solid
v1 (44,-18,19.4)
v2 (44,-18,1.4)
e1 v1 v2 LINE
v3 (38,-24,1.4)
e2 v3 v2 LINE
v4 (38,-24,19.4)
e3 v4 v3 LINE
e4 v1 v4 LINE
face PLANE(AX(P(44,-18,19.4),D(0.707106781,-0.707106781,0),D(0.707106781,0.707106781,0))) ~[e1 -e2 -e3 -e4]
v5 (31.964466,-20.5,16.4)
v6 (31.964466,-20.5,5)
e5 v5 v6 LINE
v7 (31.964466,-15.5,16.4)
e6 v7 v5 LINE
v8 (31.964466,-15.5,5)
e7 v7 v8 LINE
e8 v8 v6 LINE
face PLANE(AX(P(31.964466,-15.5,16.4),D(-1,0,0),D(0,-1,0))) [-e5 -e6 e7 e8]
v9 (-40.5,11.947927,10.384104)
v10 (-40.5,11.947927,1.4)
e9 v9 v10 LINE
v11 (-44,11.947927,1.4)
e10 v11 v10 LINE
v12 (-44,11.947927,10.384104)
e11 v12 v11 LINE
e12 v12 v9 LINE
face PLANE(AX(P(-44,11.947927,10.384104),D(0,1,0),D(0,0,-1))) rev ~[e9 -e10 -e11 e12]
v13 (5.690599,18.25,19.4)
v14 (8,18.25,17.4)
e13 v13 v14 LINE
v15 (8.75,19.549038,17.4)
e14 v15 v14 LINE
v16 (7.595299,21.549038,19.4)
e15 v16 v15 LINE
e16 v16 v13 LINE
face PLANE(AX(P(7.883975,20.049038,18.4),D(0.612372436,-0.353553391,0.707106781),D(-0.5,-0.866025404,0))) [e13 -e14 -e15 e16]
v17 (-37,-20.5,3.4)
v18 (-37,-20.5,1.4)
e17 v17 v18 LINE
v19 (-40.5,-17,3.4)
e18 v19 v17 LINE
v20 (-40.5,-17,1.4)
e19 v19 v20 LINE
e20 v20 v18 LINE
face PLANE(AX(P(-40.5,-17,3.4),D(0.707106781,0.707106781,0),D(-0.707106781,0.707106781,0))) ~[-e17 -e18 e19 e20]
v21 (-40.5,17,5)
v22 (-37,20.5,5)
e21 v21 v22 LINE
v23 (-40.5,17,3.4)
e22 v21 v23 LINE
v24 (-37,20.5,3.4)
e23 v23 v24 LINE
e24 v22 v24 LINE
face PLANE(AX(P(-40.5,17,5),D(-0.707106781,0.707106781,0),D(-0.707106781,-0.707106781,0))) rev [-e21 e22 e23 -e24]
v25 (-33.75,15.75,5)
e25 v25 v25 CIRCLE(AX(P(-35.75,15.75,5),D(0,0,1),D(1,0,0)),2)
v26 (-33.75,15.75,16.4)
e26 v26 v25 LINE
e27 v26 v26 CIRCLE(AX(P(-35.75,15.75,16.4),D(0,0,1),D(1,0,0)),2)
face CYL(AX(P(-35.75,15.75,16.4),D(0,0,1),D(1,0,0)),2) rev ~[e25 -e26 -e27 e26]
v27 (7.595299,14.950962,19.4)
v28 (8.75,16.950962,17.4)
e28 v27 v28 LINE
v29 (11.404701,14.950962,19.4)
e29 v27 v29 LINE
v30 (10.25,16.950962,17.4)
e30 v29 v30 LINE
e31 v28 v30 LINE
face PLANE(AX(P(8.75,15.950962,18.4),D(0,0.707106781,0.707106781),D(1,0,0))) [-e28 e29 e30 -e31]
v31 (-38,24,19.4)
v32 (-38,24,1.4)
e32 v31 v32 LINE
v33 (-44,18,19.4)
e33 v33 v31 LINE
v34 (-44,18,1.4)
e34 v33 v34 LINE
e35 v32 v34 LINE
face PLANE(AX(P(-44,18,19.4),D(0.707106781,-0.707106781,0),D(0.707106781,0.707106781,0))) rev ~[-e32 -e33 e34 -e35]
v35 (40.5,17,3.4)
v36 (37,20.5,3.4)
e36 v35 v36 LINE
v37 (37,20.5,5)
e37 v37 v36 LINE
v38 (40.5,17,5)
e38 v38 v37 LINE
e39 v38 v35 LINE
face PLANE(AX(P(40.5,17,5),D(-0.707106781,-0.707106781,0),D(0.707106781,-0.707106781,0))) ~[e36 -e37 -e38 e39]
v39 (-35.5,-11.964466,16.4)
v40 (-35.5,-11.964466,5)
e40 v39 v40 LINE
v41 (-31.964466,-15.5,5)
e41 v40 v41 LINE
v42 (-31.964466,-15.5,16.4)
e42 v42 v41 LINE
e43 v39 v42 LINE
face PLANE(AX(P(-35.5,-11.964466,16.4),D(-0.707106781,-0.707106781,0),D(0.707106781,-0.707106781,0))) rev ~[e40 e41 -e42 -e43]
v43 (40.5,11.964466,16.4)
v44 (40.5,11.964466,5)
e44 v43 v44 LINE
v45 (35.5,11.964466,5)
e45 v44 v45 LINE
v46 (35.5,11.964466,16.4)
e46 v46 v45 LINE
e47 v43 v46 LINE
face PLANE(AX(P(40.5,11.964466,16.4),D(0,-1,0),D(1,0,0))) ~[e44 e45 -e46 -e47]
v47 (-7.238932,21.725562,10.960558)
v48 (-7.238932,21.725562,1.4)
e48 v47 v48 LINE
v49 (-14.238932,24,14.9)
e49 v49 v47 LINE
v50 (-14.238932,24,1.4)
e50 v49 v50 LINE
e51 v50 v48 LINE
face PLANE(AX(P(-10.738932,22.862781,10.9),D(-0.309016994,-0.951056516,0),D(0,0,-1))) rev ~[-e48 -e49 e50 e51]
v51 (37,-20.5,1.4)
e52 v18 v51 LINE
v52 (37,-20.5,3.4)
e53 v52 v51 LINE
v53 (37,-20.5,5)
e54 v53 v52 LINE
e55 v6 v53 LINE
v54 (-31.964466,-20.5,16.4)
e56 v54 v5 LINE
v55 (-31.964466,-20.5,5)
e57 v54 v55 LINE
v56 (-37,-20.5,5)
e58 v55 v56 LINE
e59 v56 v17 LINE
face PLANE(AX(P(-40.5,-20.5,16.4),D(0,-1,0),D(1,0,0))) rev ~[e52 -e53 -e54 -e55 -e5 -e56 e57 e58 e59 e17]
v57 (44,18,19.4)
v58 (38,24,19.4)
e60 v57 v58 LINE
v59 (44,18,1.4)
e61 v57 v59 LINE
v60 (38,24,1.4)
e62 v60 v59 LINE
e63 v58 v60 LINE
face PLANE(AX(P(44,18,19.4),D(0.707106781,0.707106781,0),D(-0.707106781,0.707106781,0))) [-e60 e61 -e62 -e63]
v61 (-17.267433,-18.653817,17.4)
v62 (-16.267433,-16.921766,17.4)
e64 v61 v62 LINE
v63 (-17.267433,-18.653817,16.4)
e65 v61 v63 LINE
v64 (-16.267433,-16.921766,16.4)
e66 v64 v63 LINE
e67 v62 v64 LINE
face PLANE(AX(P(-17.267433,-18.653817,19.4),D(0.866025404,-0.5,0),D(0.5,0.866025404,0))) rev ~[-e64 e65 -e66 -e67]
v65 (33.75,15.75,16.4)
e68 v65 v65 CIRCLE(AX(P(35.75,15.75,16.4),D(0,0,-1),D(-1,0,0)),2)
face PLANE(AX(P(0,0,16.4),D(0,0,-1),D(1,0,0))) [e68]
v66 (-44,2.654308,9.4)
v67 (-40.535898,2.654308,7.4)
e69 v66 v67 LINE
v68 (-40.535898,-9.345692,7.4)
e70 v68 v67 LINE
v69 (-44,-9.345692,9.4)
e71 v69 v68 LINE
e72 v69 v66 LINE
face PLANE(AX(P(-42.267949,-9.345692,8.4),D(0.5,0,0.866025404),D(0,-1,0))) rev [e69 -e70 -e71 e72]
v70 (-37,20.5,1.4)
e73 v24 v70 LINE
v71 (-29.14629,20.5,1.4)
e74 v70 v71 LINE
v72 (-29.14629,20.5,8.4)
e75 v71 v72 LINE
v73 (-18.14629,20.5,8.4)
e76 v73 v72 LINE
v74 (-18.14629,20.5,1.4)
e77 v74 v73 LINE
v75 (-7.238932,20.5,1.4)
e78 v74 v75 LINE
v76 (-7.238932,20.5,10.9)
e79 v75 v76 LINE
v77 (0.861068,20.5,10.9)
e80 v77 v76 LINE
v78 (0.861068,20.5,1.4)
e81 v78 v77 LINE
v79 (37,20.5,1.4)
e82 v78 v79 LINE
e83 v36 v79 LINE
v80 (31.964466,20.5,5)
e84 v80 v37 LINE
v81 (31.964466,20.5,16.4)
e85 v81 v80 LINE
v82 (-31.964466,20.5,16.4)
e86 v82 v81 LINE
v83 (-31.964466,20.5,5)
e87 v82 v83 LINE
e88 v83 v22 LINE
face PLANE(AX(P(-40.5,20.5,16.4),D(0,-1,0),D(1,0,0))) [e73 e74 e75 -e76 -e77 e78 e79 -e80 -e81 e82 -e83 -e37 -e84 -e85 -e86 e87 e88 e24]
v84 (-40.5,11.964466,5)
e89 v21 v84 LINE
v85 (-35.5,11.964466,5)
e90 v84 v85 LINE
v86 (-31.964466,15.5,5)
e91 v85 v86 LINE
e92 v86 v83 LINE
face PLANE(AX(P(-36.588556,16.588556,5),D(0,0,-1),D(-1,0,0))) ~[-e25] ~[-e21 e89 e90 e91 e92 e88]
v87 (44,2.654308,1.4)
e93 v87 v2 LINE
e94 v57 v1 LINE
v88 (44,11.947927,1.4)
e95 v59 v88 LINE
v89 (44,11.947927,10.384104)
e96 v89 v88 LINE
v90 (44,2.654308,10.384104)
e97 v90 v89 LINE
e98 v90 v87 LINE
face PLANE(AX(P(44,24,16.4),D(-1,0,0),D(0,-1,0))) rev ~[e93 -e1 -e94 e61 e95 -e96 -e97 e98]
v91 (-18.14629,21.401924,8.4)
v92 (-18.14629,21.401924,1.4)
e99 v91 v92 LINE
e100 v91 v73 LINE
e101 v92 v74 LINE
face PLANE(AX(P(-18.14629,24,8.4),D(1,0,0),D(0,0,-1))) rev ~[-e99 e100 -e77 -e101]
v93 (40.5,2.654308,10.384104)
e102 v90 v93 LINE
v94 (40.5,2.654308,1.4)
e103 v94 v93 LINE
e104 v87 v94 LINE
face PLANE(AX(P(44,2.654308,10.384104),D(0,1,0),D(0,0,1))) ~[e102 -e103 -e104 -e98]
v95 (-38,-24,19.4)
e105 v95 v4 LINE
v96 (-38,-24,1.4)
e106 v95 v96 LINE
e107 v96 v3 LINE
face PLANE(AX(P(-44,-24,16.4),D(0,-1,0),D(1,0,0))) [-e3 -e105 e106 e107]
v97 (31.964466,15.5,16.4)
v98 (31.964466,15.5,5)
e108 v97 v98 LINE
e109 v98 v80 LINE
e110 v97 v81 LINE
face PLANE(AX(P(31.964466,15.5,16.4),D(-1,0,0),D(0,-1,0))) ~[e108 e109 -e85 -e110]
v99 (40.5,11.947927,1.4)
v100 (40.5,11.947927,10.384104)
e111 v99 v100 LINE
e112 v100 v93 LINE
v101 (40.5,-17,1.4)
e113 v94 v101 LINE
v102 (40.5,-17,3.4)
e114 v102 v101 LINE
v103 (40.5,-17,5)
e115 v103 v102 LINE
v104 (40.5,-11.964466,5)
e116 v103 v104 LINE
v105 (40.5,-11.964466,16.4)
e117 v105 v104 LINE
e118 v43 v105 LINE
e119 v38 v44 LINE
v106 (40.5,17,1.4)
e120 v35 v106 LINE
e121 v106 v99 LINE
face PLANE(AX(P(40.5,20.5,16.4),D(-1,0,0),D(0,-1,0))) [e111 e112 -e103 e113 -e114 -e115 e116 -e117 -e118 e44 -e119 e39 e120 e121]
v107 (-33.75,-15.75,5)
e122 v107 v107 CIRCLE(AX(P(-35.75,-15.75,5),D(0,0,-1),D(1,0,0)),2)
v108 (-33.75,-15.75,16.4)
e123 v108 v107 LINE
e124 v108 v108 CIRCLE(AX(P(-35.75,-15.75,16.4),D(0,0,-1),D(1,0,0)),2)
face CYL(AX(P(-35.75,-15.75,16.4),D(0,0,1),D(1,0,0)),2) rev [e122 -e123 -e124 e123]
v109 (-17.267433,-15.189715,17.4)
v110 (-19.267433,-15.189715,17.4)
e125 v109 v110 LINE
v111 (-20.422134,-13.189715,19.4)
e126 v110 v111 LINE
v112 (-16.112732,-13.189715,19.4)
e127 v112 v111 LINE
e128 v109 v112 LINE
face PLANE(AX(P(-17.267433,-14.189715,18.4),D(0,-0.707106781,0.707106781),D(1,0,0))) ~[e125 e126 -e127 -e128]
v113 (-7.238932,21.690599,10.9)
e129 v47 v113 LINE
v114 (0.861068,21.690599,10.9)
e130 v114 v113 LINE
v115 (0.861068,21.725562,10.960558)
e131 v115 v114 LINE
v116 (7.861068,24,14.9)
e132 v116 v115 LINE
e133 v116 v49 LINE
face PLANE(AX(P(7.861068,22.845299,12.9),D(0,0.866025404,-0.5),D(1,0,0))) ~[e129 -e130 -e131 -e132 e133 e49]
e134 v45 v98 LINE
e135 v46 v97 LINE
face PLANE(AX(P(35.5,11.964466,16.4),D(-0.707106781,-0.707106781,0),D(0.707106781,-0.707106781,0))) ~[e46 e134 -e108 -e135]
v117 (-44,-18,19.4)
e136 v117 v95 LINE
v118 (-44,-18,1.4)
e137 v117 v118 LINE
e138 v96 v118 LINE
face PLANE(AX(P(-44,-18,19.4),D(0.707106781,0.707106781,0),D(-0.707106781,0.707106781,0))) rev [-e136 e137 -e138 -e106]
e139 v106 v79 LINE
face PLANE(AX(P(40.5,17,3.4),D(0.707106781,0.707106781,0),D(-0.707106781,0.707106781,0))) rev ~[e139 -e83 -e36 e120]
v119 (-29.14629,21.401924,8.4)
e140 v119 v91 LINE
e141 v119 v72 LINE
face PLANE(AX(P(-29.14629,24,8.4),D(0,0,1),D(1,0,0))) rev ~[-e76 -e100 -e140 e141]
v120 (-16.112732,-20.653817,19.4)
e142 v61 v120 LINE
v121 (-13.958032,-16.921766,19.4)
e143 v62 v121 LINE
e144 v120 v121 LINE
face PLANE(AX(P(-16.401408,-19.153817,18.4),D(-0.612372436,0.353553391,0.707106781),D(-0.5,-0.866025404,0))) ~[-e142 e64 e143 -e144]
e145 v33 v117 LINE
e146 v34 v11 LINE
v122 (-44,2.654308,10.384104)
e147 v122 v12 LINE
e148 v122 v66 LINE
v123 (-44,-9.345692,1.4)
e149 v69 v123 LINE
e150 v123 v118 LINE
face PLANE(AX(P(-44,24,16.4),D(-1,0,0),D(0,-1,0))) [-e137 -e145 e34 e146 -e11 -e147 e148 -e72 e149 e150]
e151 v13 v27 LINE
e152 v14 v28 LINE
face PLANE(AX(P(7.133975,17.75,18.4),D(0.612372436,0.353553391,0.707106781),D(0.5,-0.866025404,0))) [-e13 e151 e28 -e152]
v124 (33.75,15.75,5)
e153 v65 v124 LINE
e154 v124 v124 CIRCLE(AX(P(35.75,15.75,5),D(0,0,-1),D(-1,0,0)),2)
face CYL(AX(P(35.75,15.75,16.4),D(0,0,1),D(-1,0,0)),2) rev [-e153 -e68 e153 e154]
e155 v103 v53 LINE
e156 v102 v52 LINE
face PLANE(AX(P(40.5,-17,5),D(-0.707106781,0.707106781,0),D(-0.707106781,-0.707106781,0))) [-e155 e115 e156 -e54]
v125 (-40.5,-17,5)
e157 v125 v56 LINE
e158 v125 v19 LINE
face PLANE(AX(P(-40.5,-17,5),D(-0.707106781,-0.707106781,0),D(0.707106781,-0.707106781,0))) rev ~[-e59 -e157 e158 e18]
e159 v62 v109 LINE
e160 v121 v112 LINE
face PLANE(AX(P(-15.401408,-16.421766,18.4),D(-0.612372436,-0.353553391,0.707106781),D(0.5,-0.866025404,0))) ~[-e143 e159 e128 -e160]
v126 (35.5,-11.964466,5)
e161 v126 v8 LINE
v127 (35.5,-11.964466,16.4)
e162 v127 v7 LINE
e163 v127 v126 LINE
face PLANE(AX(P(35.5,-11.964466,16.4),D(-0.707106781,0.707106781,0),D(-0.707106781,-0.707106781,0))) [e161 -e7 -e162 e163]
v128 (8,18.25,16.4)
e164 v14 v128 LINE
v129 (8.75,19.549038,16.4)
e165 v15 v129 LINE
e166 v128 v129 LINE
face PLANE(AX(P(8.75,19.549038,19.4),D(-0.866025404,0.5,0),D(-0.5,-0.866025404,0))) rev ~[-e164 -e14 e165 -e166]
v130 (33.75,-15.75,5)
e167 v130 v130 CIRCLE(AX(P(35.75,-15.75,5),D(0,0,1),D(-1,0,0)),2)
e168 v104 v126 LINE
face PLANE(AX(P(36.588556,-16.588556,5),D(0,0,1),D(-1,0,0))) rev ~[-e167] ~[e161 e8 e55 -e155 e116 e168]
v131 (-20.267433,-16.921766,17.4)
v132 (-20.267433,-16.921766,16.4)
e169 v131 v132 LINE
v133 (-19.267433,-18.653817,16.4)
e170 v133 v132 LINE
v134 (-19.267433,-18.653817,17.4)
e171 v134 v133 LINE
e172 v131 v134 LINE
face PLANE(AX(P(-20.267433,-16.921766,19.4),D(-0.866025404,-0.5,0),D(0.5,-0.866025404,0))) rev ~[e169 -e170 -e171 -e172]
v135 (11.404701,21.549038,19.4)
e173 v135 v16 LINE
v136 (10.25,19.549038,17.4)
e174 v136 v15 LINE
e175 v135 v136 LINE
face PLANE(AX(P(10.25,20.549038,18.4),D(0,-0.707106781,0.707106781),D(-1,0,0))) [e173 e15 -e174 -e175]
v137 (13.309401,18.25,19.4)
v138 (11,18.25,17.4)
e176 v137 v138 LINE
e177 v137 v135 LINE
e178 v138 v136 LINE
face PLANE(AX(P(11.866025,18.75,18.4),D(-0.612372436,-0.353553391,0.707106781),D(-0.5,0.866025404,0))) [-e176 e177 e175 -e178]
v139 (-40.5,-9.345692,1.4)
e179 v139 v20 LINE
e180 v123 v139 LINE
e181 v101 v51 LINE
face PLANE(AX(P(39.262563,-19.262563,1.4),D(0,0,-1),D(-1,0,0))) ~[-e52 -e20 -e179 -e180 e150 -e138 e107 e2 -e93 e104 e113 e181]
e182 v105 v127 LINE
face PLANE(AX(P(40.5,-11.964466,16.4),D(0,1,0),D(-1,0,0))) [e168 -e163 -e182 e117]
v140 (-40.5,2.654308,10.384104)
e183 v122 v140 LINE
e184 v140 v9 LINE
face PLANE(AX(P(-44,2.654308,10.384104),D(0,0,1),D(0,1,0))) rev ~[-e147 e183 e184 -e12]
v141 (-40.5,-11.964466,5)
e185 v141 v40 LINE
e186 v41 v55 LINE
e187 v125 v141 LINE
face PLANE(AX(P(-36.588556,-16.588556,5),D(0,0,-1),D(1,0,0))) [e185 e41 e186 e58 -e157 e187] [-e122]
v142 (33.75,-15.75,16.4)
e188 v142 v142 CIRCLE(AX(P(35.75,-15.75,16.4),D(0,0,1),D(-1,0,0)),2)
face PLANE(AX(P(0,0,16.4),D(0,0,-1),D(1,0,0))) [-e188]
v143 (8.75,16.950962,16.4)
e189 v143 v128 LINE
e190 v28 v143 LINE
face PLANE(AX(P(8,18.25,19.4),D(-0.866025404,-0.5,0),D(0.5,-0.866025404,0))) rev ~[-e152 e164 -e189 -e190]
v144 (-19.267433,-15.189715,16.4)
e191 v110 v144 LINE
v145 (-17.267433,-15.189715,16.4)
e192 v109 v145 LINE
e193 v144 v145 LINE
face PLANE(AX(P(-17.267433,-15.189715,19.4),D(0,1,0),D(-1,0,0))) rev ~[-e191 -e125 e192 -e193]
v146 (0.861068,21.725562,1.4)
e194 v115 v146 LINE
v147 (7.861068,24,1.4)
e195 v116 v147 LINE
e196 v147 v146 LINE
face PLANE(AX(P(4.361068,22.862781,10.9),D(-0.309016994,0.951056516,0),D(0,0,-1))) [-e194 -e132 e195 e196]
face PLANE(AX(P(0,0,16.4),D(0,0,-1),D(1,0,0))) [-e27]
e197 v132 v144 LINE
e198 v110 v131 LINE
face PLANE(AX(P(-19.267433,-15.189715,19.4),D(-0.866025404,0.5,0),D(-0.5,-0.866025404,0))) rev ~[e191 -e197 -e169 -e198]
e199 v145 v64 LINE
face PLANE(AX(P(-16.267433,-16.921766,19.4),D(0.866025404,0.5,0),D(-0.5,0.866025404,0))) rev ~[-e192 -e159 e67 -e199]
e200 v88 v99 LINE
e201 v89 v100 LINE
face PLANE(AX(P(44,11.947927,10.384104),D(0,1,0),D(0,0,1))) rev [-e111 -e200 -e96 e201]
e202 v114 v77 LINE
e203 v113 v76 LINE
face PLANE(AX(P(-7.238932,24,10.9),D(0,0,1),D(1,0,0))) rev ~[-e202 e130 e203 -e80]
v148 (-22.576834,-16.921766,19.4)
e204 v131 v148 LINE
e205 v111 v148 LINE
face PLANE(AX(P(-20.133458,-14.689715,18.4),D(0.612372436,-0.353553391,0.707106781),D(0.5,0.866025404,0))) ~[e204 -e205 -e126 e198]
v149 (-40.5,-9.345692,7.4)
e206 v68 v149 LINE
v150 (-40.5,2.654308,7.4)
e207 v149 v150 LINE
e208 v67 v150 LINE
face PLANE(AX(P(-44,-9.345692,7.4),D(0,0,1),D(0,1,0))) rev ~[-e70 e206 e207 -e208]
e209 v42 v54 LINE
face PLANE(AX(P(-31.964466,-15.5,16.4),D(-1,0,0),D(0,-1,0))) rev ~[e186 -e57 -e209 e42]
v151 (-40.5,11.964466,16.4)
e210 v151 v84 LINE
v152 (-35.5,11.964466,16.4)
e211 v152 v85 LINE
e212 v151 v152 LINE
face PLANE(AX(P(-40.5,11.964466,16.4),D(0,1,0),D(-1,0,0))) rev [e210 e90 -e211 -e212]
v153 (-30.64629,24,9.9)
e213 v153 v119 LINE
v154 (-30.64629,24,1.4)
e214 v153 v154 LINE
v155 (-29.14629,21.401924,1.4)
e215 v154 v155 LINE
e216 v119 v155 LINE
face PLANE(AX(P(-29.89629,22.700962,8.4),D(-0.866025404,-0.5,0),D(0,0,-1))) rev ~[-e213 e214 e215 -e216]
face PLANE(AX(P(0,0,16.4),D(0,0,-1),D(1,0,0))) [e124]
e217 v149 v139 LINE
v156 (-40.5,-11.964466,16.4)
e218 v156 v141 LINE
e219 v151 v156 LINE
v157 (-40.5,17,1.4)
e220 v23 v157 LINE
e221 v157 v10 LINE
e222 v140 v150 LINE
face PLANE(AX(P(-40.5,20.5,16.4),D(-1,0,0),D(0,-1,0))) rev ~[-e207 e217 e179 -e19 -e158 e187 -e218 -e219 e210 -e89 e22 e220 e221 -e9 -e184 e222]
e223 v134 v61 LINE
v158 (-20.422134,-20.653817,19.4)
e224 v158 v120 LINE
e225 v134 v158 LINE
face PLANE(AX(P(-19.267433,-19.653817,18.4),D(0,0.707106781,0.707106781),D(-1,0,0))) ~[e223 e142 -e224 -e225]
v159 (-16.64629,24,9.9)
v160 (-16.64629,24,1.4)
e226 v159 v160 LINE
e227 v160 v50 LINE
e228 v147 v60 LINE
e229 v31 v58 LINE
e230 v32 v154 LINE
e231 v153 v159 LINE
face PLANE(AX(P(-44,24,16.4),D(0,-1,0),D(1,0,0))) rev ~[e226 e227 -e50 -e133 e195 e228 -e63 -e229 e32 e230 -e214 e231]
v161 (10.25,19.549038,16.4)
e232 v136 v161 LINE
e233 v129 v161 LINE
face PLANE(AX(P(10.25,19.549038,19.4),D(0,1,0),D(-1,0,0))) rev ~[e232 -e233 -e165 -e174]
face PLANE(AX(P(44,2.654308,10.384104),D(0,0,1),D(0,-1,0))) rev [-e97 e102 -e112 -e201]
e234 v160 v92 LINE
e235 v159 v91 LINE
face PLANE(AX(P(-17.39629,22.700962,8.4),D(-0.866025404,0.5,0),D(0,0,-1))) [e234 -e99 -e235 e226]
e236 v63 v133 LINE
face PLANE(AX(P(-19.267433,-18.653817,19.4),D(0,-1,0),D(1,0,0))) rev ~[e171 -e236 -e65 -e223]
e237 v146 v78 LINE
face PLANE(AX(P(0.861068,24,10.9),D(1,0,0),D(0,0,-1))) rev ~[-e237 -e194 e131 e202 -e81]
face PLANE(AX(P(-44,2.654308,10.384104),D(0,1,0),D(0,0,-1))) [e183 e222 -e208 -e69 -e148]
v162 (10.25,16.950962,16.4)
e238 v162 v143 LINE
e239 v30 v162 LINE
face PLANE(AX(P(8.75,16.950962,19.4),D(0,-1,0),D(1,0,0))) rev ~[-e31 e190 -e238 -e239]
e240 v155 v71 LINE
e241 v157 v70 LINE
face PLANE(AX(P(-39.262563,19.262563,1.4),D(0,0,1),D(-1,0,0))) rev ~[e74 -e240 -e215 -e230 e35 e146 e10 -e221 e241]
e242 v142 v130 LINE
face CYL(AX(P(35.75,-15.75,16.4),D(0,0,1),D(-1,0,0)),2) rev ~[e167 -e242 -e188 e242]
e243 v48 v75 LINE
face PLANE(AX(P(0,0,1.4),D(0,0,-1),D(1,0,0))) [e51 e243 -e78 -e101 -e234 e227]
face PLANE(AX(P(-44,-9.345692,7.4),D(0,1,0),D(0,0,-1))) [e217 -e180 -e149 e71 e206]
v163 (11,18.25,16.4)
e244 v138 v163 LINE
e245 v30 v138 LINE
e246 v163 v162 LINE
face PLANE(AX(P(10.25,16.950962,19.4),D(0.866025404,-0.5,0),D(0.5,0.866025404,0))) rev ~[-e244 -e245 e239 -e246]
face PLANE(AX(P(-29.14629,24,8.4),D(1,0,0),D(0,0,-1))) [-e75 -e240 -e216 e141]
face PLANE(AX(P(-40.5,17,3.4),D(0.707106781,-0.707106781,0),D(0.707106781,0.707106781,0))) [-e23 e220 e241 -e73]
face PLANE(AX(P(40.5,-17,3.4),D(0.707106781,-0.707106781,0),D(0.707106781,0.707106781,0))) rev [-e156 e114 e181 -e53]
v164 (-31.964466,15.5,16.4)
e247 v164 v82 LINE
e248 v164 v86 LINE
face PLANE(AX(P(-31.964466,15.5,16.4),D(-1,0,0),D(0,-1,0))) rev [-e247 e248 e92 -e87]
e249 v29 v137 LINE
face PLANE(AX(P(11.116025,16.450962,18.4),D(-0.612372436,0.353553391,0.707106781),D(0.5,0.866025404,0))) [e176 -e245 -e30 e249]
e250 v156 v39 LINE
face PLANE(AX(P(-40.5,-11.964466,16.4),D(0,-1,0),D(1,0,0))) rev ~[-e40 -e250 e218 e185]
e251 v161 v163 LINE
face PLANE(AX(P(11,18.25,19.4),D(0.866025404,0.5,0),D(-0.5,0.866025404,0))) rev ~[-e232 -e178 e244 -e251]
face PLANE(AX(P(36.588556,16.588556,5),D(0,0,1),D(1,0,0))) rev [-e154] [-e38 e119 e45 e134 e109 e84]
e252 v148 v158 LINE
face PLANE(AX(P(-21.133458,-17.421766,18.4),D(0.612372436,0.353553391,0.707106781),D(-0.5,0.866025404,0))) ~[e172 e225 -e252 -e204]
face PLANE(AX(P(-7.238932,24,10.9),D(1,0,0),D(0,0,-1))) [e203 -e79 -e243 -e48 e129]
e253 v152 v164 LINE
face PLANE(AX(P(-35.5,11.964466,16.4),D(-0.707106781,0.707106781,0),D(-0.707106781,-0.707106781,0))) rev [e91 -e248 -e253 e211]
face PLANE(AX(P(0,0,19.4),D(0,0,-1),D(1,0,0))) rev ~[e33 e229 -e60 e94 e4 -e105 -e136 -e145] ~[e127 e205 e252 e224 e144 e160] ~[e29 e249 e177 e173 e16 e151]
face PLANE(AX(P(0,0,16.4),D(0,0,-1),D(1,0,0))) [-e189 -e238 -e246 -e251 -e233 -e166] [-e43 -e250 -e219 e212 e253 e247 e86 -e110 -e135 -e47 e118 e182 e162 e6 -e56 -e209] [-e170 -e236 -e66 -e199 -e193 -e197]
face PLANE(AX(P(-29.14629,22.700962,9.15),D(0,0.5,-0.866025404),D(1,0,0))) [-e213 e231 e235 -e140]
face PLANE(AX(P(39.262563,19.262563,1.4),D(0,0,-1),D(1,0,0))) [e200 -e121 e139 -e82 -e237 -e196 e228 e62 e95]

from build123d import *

# Parameters (mm, degrees)
SKETCH_W                      = 88
SKETCH_H                      = 48
PAD_DEPTH                     = 3
SKETCH001_W                   = 88
SKETCH001_H                   = 48
SKETCH001_W_2                 = 81
SKETCH001_H_2                 = 41
PAD001_DEPTH                  = 15
SKETCH002_R                   = 2
PAD002_DEPTH                  = 11.4
SKETCH002_MIRRORED_2_R        = 2
PAD002_MIRRORED_2_DEPTH       = 11.4
SKETCH003_W                   = 9.293619
SKETCH003_H                   = 8.984104
POCKET_DEPTH                  = 5
SKETCH004_W                   = 8.1
SKETCH004_H                   = 9.5
POCKET001_DEPTH               = 5
CHAMFER_ANGLE                 = 18
CHAMFER_SIZE                  = 7
CHAMFER001_ANGLE              = 30
CHAMFER001_SIZE               = 4
SKETCH005_W                   = 11
SKETCH005_H                   = 7
POCKET002_DEPTH               = 5
CHAMFER002_ANGLE              = 60
CHAMFER002_SIZE               = 1.5
PAD003_DEPTH                  = 1.6
PAD003_MIRRORED003_2_DEPTH    = 1.6
POCKET003_DEPTH               = 5
CHAMFER003_SIZE               = 2
POCKET004_DEPTH               = 5
CHAMFER004_SIZE               = 2
SKETCH009_W                   = 12
SKETCH009_H                   = 6
POCKET005_DEPTH               = 5
CHAMFER005_ANGLE              = 60
CHAMFER005_SIZE               = 2
POCKET006_DEPTH               = 221.6870329036
POCKET006_MIRRORED005_2_DEPTH = 221.6870329036
PAD004_DEPTH                  = 2
PAD004_MIRRORED007_2_DEPTH    = 2
BODY_PLACEMENT_ANGLE          = 180


with BuildPart() as part:
    # Sketch → Pad (new body)
    with BuildSketch(Plane.XY):
        Rectangle(SKETCH_W, SKETCH_H)
    extrude(amount=PAD_DEPTH)

    # Sketch001 (on Face6 of Pad) → Pad001 (join)
    with BuildSketch(Plane.XY.offset(3)):
        Rectangle(SKETCH001_W, SKETCH001_H)
        Rectangle(SKETCH001_W_2, SKETCH001_H_2, mode=Mode.SUBTRACT)
    extrude(amount=PAD001_DEPTH)

    # Sketch002 (on Face15 of Pad001) → Pad002 (join)
    with BuildSketch(Plane.XY.offset(3)):
        Polygon((-31.964466094, 15.5), (-31.964466094, 20.5), (-40.5, 20.5), (-40.5, 11.9644660941), (-35.5, 11.9644660941), align=None)
        with Locations((-35.75, 15.75)):
            Circle(SKETCH002_R, mode=Mode.SUBTRACT)
    pad002 = extrude(amount=PAD002_DEPTH)

    # Sketch002 Mirrored 2 → Pad002 Mirrored 2 (add)
    with BuildSketch(Plane(origin=(0, 0, 3), x_dir=(-1, 0, 0), z_dir=(0, 0, -1))):
        Polygon((-31.964466094, 15.5), (-31.964466094, 20.5), (-40.5, 20.5), (-40.5, 11.9644660941), (-35.5, 11.9644660941), align=None)
        with Locations((-35.75, 15.75)):
            Circle(SKETCH002_MIRRORED_2_R, mode=Mode.SUBTRACT)
    pad002_mirrored_2 = extrude(amount=-PAD002_MIRRORED_2_DEPTH)

    # Mirrored001: Pad002, Pad002 Mirrored 2 across Sketch002 H_Axis
    add(pad002.mirror(Plane(origin=(0, 0, 3), x_dir=(0, 0, 1), z_dir=(0, 1, 0))))
    add(pad002_mirrored_2.mirror(Plane(origin=(0, 0, 3), x_dir=(0, 0, 1), z_dir=(0, 1, 0))))

    # Sketch003 (on Face7 of MultiTransform) → Pocket (cut)
    with BuildSketch(Plane(origin=(-44, 0, 0), x_dir=(0, -1, 0), z_dir=(-1, 0, 0))):
        with Locations((7.3011175, 13.507948)):
            Rectangle(SKETCH003_W, SKETCH003_H)
    pocket = extrude(amount=-POCKET_DEPTH, mode=Mode.SUBTRACT)

    # Mirrored002: Pocket across YZ
    add(pocket.mirror(Plane.YZ), mode=Mode.SUBTRACT)

    # Sketch004 (on Face5 of Mirrored002) → Pocket001 (cut)
    with BuildSketch(Plane.XZ.offset(24)):
        with Locations((-3.188932, 13.25)):
            Rectangle(SKETCH004_W, SKETCH004_H)
    extrude(amount=-POCKET001_DEPTH, mode=Mode.SUBTRACT)

    # Chamfer
    chamfer_edges = [part.edges().sort_by_distance(p)[0] for p in [
        (0.861068, -24, 13.25),
        (-7.238932, -24, 13.25),
    ]]
    chamfer_side = part.faces().sort_by_distance((0, -24, 3.892693))[0]
    chamfer(chamfer_edges, length=CHAMFER_SIZE, angle=CHAMFER_ANGLE, reference=chamfer_side)

    # Chamfer001
    chamfer001_edges = [part.edges().sort_by_distance(p)[0] for p in [
        (-3.188932, -24, 8.5),
        (-10.738932, -24, 8.5),
        (4.361068, -24, 8.5),
    ]]
    chamfer001_side = part.faces().sort_by_distance((-29.119466, -24, 17.107307))[0]
    chamfer(chamfer001_edges, length=CHAMFER001_SIZE, angle=CHAMFER001_ANGLE, reference=chamfer001_side)

    # Sketch005 (on Face1 of Chamfer001) → Pocket002 (cut)
    with BuildSketch(Plane.XZ.offset(24)):
        with Locations((-23.6462903219, 14.5)):
            Rectangle(SKETCH005_W, SKETCH005_H)
    extrude(amount=-POCKET002_DEPTH, mode=Mode.SUBTRACT)

    # Chamfer002
    chamfer002_edges = [part.edges().sort_by_distance(p)[0] for p in [
        (-23.64629, -24, 11),
        (-18.14629, -24, 14.5),
        (-29.14629, -24, 14.5),
    ]]
    chamfer002_side = part.faces().sort_by_distance((-10.738932, -24, 3.607307))[0]
    chamfer(chamfer002_edges, length=CHAMFER002_SIZE, angle=CHAMFER002_ANGLE, reference=chamfer002_side)

    # Sketch006 (on Face38 of Chamfer002) → Pad003 (join)
    with BuildSketch(Plane.XY.offset(14.4)):
        Polygon((-40.5, 20.5), (-40.5, 17.0000000001), (-37, 20.5), align=None)
    pad003 = extrude(amount=PAD003_DEPTH)

    # Sketch006 Mirrored003 2 → Pad003 Mirrored003 2 (add)
    with BuildSketch(Plane(origin=(0, 0, 14.4), x_dir=(-1, 0, 0), z_dir=(0, 0, -1))):
        Polygon((-40.5, 20.5), (-40.5, 17.0000000001), (-37, 20.5), align=None)
    pad003_mirrored003_2 = extrude(amount=-PAD003_MIRRORED003_2_DEPTH)

    # Mirrored004: Pad003, Pad003 Mirrored003 2 across Sketch006 H_Axis
    add(pad003.mirror(Plane(origin=(0, 0, 14.4), x_dir=(0, 0, 1), z_dir=(0, 1, 0))))
    add(pad003_mirrored003_2.mirror(Plane(origin=(0, 0, 14.4), x_dir=(0, 0, 1), z_dir=(0, 1, 0))))

    # Sketch007 (on Face27 of MultiTransform001) → Pocket003 (cut)
    with BuildSketch(Plane(origin=(0, 0, 0), x_dir=(1, 0, 0), z_dir=(0, 0, -1))):
        Polygon((-16.267433, -16.921766), (-17.267433, -15.1897151924), (-19.267433, -15.1897151924), (-20.267433, -16.921766), (-19.267433, -18.6538168076), (-17.267433, -18.6538168076), align=None)
    extrude(amount=-POCKET003_DEPTH, mode=Mode.SUBTRACT)

    # Chamfer003
    chamfer003_edges = [part.edges().sort_by_distance(p)[0] for p in [
        (-18.267433, 15.189715, 0),
        (-16.767433, 16.055741, 0),
        (-16.767433, 17.787791, 0),
        (-18.267433, 18.653817, 0),
        (-19.767433, 17.787791, 0),
        (-19.767433, 16.055741, 0),
    ]]
    chamfer(chamfer003_edges, length=CHAMFER003_SIZE)

    # Sketch008 (on Face1 of Chamfer003) → Pocket004 (cut)
    with BuildSketch(Plane(origin=(0, 0, 0), x_dir=(1, 0, 0), z_dir=(0, 0, -1))):
        Polygon((11, 18.25), (10.25, 19.5490381057), (8.75, 19.5490381057), (8, 18.25), (8.75, 16.9509618943), (10.25, 16.9509618943), align=None)
    extrude(amount=-POCKET004_DEPTH, mode=Mode.SUBTRACT)

    # Chamfer004
    chamfer004_edges = [part.edges().sort_by_distance(p)[0] for p in [
        (9.5, -19.549038, 0),
        (8.375, -18.899519, 0),
        (8.375, -17.600481, 0),
        (9.5, -16.950962, 0),
        (10.625, -17.600481, 0),
        (10.625, -18.899519, 0),
    ]]
    chamfer(chamfer004_edges, length=CHAMFER004_SIZE)

    # Sketch009 (on Face25 of Chamfer004) → Pocket005 (cut)
    with BuildSketch(Plane(origin=(-44, 0, 0), x_dir=(0, -1, 0), z_dir=(-1, 0, 0))):
        with Locations((-3.345692, 15)):
            Rectangle(SKETCH009_W, SKETCH009_H)
    extrude(amount=-POCKET005_DEPTH, mode=Mode.SUBTRACT)

    # Chamfer005
    chamfer005_edges = [part.edges().sort_by_distance(p)[0] for p in [
        (-44, 3.345692, 12),
    ]]
    chamfer005_side = part.faces().sort_by_distance((-44, 0.653166, 9.481146))[0]
    chamfer(chamfer005_edges, length=CHAMFER005_SIZE, angle=CHAMFER005_ANGLE, reference=chamfer005_side)

    # Sketch010 (on Face32 of Chamfer005) → Pocket006 (cut, through all)
    with BuildSketch(Plane(origin=(0, 0, 0), x_dir=(1, 0, 0), z_dir=(0, 0, -1))):
        Polygon((38, 24), (44, 24), (44, 18), align=None)
    pocket006 = extrude(amount=-POCKET006_DEPTH, mode=Mode.SUBTRACT)

    # Sketch010 Mirrored005 2 → Pocket006 Mirrored005 2 (cut, through all)
    with BuildSketch(Plane(origin=(0, 0, 0), x_dir=(-1, 0, 0), z_dir=(0, 0, 1))):
        Polygon((38, 24), (44, 24), (44, 18), align=None)
    pocket006_mirrored005_2 = extrude(amount=POCKET006_MIRRORED005_2_DEPTH, mode=Mode.SUBTRACT)

    # Mirrored006: Pocket006, Pocket006 Mirrored005 2 across Sketch010 H_Axis
    add(pocket006.mirror(Plane(origin=(0, 0, 0), x_dir=(0, 0, -1), z_dir=(0, -1, 0))), mode=Mode.SUBTRACT)
    add(pocket006_mirrored005_2.mirror(Plane(origin=(0, 0, 0), x_dir=(0, 0, -1), z_dir=(0, -1, 0))), mode=Mode.SUBTRACT)

    # Sketch011 (on Face32 of MultiTransform002) → Pad004 (join)
    with BuildSketch(Plane.XY.offset(16)):
        Polygon((-40.5, -20.5), (-40.5, -17.0000000001), (-37.0000000001, -20.5), align=None)
    pad004 = extrude(amount=PAD004_DEPTH)

    # Sketch011 Mirrored007 2 → Pad004 Mirrored007 2 (add)
    with BuildSketch(Plane(origin=(0, 0, 16), x_dir=(-1, 0, 0), z_dir=(0, 0, -1))):
        Polygon((-40.5, -20.5), (-40.5, -17.0000000001), (-37.0000000001, -20.5), align=None)
    pad004_mirrored007_2 = extrude(amount=-PAD004_MIRRORED007_2_DEPTH)

    # Mirrored008: Pad004, Pad004 Mirrored007 2 across Sketch011 H_Axis
    add(pad004.mirror(Plane(origin=(0, 0, 16), x_dir=(0, 0, 1), z_dir=(0, 1, 0))))
    add(pad004_mirrored007_2.mirror(Plane(origin=(0, 0, 16), x_dir=(0, 0, 1), z_dir=(0, 1, 0))))


with BuildPart() as part_1:
    # Body placement: moved
    add(part.part.moved(Location((0, 0, 19.4))).rotate(Axis((0, 0, 19.4), (1, 0, 0)), BODY_PLACEMENT_ANGLE))


solid = part_1.part
